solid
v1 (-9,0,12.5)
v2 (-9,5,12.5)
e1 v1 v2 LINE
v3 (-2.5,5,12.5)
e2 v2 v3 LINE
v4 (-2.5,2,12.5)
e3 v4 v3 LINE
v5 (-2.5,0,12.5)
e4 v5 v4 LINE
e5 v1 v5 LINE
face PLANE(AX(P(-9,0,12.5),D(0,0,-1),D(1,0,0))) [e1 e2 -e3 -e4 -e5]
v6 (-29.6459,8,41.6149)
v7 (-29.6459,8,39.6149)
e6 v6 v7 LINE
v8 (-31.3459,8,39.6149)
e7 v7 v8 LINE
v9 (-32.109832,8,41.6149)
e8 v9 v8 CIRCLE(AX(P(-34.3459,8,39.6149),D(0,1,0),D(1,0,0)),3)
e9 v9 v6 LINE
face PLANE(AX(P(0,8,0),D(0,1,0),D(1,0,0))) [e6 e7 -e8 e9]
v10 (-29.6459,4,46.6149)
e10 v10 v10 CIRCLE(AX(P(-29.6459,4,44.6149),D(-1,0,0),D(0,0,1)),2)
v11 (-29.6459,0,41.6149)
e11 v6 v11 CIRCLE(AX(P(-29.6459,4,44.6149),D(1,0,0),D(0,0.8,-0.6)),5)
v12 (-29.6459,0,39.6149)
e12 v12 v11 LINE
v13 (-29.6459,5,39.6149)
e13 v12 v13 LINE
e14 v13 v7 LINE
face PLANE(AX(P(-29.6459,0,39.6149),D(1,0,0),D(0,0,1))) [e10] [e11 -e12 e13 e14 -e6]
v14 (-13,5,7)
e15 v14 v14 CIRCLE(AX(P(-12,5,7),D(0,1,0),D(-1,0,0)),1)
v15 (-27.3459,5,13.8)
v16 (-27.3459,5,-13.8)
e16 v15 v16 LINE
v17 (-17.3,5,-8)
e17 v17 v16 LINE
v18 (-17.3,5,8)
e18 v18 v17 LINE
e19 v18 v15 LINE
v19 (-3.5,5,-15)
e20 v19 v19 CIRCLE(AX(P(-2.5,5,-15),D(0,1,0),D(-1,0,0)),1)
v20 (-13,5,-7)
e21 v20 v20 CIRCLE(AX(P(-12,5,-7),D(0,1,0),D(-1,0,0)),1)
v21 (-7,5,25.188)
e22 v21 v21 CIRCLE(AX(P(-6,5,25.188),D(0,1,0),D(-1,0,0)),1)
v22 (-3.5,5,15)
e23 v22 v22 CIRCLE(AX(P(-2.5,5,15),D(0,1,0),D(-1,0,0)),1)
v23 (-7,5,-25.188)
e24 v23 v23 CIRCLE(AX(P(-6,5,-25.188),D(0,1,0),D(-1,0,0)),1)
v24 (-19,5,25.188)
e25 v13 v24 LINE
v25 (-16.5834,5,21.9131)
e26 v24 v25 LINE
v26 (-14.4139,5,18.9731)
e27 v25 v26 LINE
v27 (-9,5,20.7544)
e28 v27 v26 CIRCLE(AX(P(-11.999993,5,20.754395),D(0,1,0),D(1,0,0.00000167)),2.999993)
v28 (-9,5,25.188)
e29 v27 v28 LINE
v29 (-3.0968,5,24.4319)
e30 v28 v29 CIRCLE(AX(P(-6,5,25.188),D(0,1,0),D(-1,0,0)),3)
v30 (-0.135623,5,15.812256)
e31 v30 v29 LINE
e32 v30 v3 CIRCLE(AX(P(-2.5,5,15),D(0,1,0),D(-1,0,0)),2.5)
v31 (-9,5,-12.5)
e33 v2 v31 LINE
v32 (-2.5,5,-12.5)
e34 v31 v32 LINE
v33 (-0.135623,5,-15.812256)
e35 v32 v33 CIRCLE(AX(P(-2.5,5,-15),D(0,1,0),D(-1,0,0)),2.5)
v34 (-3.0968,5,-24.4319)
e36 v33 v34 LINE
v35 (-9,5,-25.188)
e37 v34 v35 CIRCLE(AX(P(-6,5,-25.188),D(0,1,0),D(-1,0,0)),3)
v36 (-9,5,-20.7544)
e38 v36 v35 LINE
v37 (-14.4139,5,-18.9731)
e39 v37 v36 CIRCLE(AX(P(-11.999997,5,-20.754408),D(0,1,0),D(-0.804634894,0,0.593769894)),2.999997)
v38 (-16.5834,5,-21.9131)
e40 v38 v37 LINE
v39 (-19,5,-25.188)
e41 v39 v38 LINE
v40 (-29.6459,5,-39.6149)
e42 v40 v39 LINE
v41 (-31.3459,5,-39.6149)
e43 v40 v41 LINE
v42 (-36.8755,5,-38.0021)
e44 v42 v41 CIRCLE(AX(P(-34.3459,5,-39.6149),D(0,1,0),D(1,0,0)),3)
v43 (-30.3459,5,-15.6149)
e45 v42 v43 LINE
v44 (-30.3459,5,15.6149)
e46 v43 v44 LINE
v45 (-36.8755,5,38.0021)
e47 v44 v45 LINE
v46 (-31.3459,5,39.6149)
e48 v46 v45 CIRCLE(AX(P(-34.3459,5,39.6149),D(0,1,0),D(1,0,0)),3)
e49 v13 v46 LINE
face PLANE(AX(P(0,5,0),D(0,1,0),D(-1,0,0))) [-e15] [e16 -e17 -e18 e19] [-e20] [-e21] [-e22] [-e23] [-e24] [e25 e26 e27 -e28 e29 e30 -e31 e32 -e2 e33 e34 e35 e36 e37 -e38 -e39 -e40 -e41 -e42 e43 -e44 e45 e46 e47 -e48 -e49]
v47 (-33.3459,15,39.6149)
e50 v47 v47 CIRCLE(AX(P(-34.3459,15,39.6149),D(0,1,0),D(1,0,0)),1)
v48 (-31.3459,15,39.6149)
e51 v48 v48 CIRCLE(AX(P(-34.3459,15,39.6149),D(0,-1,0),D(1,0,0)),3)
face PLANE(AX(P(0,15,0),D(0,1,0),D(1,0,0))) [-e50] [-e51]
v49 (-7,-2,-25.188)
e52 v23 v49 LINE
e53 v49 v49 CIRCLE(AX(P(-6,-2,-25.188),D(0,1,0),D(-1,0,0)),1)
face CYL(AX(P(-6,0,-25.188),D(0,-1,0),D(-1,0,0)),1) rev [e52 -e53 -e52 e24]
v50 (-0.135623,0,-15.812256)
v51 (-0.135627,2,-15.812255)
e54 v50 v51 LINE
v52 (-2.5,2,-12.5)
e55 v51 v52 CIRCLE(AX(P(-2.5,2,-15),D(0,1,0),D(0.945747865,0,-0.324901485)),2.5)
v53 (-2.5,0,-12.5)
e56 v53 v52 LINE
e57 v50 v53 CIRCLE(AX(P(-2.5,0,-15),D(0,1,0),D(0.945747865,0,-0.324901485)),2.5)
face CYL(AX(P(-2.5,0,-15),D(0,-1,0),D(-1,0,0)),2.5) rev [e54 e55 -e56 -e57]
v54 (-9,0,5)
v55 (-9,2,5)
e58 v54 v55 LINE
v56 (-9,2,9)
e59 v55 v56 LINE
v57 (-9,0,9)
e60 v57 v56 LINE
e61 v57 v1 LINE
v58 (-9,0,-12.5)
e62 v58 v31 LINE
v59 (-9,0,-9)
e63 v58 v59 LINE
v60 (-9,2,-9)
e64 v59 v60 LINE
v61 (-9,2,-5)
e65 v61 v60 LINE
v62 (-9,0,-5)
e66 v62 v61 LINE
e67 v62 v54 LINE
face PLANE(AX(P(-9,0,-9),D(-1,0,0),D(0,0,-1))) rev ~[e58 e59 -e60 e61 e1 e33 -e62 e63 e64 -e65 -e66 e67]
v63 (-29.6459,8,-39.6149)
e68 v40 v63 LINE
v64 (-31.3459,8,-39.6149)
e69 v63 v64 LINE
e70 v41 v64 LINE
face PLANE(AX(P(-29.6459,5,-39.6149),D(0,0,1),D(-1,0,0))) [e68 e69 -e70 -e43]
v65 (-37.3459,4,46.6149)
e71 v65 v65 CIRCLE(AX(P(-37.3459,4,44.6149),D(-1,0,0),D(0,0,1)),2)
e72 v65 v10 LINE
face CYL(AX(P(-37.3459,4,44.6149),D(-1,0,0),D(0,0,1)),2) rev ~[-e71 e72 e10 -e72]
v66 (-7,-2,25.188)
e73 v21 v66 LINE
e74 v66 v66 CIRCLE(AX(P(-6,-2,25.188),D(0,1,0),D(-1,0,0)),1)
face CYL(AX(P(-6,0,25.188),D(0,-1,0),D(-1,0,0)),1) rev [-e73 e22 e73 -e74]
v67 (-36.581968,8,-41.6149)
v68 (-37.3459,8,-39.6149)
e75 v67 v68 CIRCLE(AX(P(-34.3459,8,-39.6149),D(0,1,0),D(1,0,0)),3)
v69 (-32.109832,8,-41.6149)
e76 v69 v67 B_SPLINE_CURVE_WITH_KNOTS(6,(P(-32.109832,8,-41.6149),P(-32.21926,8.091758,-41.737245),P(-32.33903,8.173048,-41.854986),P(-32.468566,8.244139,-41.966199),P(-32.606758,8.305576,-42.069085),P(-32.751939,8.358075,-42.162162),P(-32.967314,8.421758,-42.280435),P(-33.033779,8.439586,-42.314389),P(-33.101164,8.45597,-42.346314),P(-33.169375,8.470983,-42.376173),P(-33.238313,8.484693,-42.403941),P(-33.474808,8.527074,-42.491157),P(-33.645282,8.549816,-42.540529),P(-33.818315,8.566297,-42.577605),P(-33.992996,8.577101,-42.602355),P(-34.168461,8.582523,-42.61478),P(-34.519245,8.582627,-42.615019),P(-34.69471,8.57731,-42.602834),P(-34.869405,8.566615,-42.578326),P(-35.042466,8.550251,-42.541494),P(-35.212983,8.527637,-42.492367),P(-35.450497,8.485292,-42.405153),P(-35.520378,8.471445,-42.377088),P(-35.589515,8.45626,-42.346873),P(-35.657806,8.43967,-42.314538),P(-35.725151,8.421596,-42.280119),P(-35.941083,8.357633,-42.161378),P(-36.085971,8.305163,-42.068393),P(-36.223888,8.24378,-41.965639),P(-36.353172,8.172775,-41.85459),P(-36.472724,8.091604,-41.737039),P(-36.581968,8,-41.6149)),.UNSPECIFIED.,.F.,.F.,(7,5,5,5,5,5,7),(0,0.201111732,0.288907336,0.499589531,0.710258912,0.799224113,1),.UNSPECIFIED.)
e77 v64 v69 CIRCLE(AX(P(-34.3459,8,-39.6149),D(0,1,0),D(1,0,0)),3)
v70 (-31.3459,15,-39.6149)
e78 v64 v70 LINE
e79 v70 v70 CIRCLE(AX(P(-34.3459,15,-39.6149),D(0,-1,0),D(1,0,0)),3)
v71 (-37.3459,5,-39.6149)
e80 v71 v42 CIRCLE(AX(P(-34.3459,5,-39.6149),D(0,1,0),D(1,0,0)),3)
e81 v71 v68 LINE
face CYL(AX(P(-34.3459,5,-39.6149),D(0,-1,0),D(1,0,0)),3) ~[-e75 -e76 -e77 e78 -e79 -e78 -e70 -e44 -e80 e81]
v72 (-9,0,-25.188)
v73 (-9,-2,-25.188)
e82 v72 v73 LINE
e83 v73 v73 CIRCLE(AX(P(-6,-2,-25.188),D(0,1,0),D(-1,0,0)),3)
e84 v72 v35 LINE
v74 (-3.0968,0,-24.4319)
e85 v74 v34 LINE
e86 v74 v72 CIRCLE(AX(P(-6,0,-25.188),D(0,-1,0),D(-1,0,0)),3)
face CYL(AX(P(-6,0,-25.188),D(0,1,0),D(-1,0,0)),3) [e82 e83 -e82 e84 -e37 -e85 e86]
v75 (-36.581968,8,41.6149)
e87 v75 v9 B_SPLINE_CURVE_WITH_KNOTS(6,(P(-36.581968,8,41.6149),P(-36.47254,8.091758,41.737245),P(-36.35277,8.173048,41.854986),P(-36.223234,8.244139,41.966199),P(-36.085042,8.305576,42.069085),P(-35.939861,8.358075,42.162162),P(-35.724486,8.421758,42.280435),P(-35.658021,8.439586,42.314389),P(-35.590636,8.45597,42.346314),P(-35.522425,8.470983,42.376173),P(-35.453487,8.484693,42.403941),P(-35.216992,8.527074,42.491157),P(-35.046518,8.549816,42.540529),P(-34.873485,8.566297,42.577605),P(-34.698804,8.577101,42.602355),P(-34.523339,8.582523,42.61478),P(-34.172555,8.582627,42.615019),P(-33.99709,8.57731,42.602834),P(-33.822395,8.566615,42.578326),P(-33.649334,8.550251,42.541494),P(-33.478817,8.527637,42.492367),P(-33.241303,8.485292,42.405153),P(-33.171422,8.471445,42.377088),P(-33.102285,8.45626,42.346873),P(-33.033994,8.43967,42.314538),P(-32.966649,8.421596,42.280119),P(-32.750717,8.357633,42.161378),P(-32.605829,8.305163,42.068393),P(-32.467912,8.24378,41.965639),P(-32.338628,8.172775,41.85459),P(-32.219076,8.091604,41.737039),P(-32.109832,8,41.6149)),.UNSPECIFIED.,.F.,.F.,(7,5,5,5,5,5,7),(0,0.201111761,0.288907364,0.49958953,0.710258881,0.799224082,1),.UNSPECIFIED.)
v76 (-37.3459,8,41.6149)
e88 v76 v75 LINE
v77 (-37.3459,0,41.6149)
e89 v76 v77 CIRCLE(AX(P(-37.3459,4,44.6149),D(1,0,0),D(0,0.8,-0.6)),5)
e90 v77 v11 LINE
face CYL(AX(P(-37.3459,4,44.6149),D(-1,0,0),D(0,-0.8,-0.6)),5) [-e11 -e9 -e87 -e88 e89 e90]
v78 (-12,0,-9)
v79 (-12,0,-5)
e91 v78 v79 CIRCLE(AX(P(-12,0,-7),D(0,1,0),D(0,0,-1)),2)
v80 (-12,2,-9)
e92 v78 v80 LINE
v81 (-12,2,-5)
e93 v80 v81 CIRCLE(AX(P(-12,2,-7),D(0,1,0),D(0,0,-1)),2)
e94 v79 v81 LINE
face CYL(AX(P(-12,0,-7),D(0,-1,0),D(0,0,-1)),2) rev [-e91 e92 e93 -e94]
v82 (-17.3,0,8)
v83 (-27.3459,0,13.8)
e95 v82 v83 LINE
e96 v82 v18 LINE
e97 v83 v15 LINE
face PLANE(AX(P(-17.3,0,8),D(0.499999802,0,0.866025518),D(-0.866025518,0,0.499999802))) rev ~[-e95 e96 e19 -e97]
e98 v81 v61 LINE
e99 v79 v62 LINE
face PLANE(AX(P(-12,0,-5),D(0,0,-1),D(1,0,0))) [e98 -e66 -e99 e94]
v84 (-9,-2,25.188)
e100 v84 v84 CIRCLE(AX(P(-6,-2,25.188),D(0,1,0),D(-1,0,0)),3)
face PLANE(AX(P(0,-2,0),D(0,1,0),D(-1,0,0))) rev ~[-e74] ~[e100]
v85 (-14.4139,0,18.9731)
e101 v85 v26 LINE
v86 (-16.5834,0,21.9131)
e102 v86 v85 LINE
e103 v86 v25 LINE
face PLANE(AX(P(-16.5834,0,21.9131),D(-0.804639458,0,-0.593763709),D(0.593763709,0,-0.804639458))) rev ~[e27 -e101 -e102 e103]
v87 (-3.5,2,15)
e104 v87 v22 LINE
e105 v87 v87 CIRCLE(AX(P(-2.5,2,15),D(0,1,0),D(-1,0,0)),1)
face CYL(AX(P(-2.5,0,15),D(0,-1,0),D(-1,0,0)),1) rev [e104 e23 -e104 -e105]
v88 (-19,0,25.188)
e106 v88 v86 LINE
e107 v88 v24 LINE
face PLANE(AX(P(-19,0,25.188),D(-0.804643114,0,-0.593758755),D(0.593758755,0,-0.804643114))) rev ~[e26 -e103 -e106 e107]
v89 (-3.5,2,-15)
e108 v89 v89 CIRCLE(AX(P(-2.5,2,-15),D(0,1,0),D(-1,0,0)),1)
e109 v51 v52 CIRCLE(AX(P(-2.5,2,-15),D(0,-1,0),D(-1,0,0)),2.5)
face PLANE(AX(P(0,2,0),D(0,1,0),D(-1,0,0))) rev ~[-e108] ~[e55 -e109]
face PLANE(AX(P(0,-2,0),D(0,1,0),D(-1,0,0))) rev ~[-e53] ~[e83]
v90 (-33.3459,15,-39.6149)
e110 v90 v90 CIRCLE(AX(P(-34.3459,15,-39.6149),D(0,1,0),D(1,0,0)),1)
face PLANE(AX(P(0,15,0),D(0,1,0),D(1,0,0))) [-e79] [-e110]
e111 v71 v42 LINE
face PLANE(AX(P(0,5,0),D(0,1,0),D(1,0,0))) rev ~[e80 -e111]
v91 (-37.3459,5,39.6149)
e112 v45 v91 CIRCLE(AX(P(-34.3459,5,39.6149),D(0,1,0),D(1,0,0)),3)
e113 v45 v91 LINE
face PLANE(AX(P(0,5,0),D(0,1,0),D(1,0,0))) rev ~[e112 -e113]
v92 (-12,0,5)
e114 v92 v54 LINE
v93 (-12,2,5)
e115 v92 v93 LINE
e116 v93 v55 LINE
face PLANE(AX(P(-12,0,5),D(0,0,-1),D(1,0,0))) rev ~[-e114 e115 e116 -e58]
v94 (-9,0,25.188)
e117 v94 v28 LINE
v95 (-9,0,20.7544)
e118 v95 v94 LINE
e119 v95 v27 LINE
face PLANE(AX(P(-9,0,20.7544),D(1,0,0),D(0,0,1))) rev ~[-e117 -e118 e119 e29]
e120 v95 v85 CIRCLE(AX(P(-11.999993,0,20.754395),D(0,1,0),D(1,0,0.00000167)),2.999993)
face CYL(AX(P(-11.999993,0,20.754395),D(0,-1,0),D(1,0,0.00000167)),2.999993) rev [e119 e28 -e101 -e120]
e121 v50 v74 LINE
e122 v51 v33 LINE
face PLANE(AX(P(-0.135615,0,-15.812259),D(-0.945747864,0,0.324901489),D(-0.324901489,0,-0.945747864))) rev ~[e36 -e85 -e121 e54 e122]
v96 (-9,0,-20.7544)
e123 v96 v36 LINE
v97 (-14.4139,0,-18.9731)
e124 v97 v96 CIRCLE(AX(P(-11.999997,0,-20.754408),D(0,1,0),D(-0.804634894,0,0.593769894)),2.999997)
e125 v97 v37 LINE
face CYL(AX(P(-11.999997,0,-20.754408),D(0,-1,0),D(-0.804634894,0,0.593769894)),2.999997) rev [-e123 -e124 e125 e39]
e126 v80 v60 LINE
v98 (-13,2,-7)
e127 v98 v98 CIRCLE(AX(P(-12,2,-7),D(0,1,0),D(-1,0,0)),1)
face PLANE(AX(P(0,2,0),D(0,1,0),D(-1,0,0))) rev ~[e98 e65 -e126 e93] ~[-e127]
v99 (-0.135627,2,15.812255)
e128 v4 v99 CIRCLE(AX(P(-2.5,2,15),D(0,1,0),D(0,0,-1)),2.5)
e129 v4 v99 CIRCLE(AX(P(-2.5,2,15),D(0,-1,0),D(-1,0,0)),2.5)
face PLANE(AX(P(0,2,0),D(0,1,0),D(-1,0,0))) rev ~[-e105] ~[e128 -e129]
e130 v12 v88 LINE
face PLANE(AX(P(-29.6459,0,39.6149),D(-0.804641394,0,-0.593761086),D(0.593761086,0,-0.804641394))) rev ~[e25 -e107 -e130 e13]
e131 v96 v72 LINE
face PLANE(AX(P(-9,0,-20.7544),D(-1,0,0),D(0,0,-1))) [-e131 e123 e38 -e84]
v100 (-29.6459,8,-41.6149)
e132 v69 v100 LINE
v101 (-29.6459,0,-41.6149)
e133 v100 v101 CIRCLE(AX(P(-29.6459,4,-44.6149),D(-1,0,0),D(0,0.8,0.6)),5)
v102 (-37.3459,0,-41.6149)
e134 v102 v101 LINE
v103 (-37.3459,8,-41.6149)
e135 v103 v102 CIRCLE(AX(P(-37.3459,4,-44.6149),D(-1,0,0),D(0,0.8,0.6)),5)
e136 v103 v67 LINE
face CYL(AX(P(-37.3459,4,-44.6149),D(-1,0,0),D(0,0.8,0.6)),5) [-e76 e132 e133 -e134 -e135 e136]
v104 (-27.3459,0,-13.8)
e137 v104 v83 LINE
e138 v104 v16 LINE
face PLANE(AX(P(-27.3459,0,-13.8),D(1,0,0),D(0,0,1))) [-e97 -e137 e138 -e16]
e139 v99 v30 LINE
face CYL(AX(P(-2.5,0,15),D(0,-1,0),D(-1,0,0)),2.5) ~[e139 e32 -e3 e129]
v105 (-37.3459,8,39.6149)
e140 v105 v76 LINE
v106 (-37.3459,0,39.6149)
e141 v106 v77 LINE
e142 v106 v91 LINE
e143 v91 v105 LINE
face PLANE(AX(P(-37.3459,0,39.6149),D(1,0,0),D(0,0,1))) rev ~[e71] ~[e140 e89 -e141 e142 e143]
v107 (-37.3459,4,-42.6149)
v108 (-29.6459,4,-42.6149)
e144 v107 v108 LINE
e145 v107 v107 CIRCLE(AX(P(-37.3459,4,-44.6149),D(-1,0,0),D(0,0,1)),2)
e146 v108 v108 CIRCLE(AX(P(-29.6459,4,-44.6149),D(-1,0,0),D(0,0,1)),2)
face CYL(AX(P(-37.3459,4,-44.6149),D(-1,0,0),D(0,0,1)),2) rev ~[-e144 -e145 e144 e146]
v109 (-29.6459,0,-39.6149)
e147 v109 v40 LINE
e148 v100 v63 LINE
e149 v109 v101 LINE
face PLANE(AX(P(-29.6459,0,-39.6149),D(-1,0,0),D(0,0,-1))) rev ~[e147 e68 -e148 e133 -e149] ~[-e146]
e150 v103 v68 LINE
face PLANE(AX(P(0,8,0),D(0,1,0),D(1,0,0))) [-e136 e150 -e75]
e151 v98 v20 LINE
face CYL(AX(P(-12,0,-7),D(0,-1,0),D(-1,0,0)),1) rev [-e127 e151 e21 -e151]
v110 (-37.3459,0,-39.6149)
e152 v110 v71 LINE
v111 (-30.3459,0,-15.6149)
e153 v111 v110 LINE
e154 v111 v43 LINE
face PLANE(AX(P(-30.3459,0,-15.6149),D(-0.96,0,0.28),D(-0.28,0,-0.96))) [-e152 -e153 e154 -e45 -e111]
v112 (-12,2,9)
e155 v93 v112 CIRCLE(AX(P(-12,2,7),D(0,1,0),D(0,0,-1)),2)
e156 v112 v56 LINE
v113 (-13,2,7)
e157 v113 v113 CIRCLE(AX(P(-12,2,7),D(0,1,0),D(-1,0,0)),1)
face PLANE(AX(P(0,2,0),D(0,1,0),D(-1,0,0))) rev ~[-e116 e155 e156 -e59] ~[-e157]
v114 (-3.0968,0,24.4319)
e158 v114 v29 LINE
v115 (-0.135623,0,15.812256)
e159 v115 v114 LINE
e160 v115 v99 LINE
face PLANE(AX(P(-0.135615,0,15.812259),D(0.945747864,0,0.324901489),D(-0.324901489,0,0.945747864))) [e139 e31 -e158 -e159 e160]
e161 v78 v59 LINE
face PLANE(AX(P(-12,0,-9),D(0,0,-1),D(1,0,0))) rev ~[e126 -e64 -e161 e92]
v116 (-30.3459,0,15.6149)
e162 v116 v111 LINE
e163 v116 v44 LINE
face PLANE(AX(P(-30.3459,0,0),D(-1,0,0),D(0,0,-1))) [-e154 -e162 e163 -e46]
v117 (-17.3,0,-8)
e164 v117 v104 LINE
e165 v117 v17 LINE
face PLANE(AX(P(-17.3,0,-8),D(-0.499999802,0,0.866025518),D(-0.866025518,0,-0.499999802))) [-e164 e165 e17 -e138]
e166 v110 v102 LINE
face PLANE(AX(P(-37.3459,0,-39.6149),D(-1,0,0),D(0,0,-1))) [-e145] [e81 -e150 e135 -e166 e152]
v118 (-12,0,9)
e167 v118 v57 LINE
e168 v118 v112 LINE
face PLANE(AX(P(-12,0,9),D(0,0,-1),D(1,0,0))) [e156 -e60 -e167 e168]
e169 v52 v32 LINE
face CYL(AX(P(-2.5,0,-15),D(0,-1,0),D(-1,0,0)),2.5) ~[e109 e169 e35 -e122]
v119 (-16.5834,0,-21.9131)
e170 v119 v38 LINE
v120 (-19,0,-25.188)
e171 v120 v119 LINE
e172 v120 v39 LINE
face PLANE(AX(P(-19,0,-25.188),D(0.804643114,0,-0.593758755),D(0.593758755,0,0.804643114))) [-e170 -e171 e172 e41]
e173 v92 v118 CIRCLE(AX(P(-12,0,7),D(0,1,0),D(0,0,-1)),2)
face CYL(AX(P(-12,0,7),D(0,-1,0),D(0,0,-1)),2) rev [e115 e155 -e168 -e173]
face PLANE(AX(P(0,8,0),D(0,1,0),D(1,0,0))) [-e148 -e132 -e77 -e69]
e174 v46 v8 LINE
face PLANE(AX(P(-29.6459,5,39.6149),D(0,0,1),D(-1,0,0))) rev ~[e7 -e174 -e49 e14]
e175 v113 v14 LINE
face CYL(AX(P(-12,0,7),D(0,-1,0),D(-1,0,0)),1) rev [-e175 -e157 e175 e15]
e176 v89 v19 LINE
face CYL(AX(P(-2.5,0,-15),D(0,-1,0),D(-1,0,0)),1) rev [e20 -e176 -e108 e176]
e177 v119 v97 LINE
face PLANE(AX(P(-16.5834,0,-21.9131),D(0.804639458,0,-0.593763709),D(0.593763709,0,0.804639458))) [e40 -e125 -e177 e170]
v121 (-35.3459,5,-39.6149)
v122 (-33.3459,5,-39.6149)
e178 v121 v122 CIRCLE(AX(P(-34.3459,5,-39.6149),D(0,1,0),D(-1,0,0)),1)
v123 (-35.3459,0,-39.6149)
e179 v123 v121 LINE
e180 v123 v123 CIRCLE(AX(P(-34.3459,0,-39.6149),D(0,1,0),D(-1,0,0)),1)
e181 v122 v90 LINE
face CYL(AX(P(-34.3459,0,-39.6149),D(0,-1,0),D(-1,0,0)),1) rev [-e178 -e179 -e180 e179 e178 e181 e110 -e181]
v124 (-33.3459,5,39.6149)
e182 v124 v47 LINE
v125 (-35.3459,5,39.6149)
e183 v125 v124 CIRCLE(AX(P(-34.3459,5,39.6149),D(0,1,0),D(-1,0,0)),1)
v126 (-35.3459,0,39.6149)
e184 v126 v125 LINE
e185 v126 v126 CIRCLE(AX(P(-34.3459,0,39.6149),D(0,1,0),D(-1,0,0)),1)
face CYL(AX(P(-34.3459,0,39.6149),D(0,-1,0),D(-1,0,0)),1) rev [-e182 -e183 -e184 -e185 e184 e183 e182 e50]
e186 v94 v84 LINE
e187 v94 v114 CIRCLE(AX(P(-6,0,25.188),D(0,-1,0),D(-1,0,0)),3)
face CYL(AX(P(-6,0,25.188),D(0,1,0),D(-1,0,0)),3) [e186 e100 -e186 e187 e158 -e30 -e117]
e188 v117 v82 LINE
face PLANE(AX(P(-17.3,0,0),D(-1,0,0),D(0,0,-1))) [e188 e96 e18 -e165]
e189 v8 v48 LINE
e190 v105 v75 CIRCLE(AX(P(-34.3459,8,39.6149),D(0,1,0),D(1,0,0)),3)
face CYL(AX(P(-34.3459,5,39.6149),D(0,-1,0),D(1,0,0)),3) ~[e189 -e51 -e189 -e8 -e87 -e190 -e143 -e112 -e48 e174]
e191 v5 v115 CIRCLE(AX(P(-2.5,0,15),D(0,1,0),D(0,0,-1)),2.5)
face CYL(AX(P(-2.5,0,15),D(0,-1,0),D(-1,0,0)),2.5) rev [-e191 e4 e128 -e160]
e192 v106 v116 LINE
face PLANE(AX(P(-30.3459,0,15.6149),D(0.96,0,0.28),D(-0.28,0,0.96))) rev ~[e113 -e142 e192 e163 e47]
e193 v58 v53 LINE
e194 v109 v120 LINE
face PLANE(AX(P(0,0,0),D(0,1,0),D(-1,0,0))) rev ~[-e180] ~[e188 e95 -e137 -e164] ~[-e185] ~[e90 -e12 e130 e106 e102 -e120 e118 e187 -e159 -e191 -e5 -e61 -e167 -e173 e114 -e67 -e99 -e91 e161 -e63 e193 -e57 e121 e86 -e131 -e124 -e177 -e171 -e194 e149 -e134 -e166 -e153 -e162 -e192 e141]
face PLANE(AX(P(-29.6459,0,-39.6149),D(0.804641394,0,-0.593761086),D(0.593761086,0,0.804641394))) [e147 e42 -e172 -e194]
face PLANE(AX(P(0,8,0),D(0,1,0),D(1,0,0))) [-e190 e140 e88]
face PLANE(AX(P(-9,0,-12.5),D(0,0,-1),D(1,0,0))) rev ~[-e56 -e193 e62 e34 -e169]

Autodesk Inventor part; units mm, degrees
ref_plane "YZ Plane" through (0, 0, 0) normal (1, 0, 0) x (0, 1, 0)
ref_plane "XZ Plane" through (0, 0, 0) normal (0, 1, 0) x (-1, 0, 0)
ref_plane "XY Plane" through (0, 0, 0) normal (0, 0, 1) x (1, 0, 0)
sketch "Sketch1" plane through (0, 0, 0) normal (0, 1, 0) x (-1, 0, 0)
  line L0 (0, 0) -> (9, 0)
  line L1 (9, 0) -> (9, -12.5)
  line L2 (9, -12.5) -> (2.5, -12.5)
  circle A0 centre (2.5, -15) radius 2.5
  circle A1 centre (2.5, -15) radius 1
  line L3 (2.5, -15) -> (17.5, -15) construction
  circle A2 centre (6, -25.188) radius 3
  circle A3 centre (6, -25.188) radius 1
  line L4 (0, -15.4175) -> (3.0968, -24.4319)
  line L5 (9, 0) -> (17.3, 0)
  line L6 (17.3, 0) -> (17.3, -8)
  line L7 (17.3, -8) -> (27.3459, -13.8)
  line L8 (27.3459, -13.8) -> (27.3459, 0)
  line L9 (30.3459, 0) -> (30.3459, -15.6149)
  line L10 (30.3459, -15.6149) -> (37.3459, -39.6149)
  line L11 (37.3459, -39.6149) -> (37.3459, -49.6149)
  line L12 (29.6459, -39.6149) -> (29.6459, -49.6149)
  line L13 (37.3459, -49.6149) -> (29.6459, -49.6149)
  line L14 (29.6459, -39.6149) -> (80.5305, -39.6149) construction
  arc A4 (14.4139, -18.9731) -> (9, -20.7544) centre (12, -20.7544) ccw
  line L15 (29.6459, -39.6149) -> (19, -25.188)
  line L16 (19, -25.188) -> (16.5834, -21.9131)
  line L17 (16.5834, -21.9131) -> (14.4139, -18.9731)
  line L18 (9, -20.7544) -> (9, -25.188)
  circle A5 centre (12, -7) radius 1
  circle A6 centre (34.3459, -39.6149) radius 3
  circle A7 centre (34.3459, -39.6149) radius 1
  line L19 (30.3459, 0) -> (0, 0)
  line L20 (9, 0) -> (9, 12.5)
  line L21 (9, 12.5) -> (2.5, 12.5)
  circle A8 centre (2.5, 15) radius 2.5
  circle A9 centre (2.5, 15) radius 1
  line L22 (2.5, 15) -> (17.5, 15) construction
  circle A10 centre (6, 25.188) radius 3
  circle A11 centre (6, 25.188) radius 1
  line L23 (0, 15.4175) -> (3.0968, 24.4319)
  line L24 (17.3, 0) -> (17.3, 8)
  line L25 (17.3, 8) -> (27.3459, 13.8)
  line L26 (27.3459, 13.8) -> (27.3459, 0)
  line L27 (30.3459, 0) -> (30.3459, 15.6149)
  line L28 (30.3459, 15.6149) -> (37.3459, 39.6149)
  line L29 (37.3459, 39.6149) -> (37.3459, 49.6149)
  line L30 (29.6459, 39.6149) -> (29.6459, 49.6149)
  line L31 (37.3459, 49.6149) -> (29.6459, 49.6149)
  line L32 (29.6459, 39.6149) -> (80.5305, 39.6149) construction
  arc A12 (9, 20.7544) -> (14.4139, 18.9731) centre (12, 20.7544) ccw
  line L33 (29.6459, 39.6149) -> (19, 25.188)
  line L34 (19, 25.188) -> (16.5834, 21.9131)
  line L35 (16.5834, 21.9131) -> (14.4139, 18.9731)
  line L36 (9, 20.7544) -> (9, 25.188)
  circle A13 centre (12, 7) radius 1
  circle A14 centre (34.3459, 39.6149) radius 3
  circle A15 centre (34.3459, 39.6149) radius 1
  arc A16 (12, -9) -> (12, -5) centre (12, -7) ccw
  arc A17 (12, 5) -> (12, 9) centre (12, 7) ccw
  line L37 (12, 5) -> (9, 5)
  line L38 (12, 9) -> (9, 9)
  line L39 (12, -5) -> (9, -5)
  line L40 (12, -9) -> (9, -9)
  point P0 (0.1356, 15.8123)
  point P1 (0.1356, -15.8123)
  point P2 (36.8755, -38.0021)
  dimension "d3" = 5
  dimension "d0" = 9
  dimension "d1" = 12.5
  dimension "d4" = 2
  dimension "d7" = 6
  dimension "d9" = 2
  dimension "d13" = 8.3
  dimension "d14" = 8
  dimension "d15" = 11.6
  dimension "d16" = 120
  dimension "d17" = 3
  dimension "d20" = 7.7
  dimension "d21" = 10
  dimension "d23" = 6
  dimension "d24" = 10
  dimension "d27" = 2
  dimension "d28" = 7
  dimension "d29" = 6
  dimension "d30" = 2
  dimension "d31" = 4
  dimension "d32" = 4
extrude "Extrusion1" add sketch "Sketch1" along normal blind 5 contours L5 L6 L7 L8 L19 L9 L10 A6 L11 L13 L12 L15 L16 L17 A4 L18 A2 L4 A0 L2 L1 L40 A16 L39 | L20 L37 A17 L38 L21 A8 L23 A10 L36 A12 L35 L34 L33 L30 L31 L29 A14 L28 L27 L19 L26 L25 L24 L5 | L39 A16 L40 L1 | L20 L38 A17 L37 | A0 | A8 | L10 A6 | A14 L28 | A2 | A10 picked at (36.5127, -38.9975) picked at (36.5127, 38.9975)
extrude "Extrusion2" cut sketch "Sketch1" along normal blind 2 contours L39 A16 L40 L1 | L20 L38 A17 L37 | A0 | A8
extrude "Extrusion3" add sketch "Sketch1" against normal blind 2 contours A2 | A10
sketch "Sketch2" plane through (0, 5, 0) normal (0, 1, 0) x (1, 0, 0)
  circle A0 centre (-34.3459, 39.6149) radius 1 projected
  line L0 (-37.3459, 49.6149) -> (-37.3459, 39.6149) projected
  circle A1 centre (-34.3459, 39.6149) radius 3
  circle A2 centre (-34.3459, -39.6149) radius 1 projected
  circle A3 centre (-34.3459, -39.6149) radius 3
  line L1 (-37.3459, -39.6149) -> (-37.3459, -49.6149) projected
  line L2 (-37.3459, -39.6149) -> (-37.3459, -49.6149)
  line L3 (-37.3459, -49.6149) -> (-29.6459, -49.6149) projected
  line L4 (-37.3459, -49.6149) -> (-29.6459, -49.6149)
  line L5 (-29.6459, -49.6149) -> (-29.6459, -39.6149) projected
  line L6 (-29.6459, -49.6149) -> (-29.6459, -39.6149)
  line L7 (-29.6459, -39.6149) -> (-31.3459, -39.6149)
  line L8 (-37.3459, 39.6149) -> (-37.3459, 49.6149)
  line L9 (-37.3459, 49.6149) -> (-29.6459, 49.6149)
  line L10 (-29.6459, 49.6149) -> (-29.6459, 39.6149)
  line L11 (-29.6459, 39.6149) -> (-31.3459, 39.6149)
  point P0 (0, 0)
extrude "Extrusion5" add sketch "Sketch2" along normal blind 10 contours A1 | A3
extrude "Extrusion6" add sketch "Sketch2" along normal blind 3 contours L9 L10 L11 A1 L0 | L7 L5 L3 L1 A3
sketch "Sketch3" plane through (-37.3459, 0, 39.6149) normal (-1, 0, 0) x (0, 0, 1)
  circle A0 centre (5, 4) radius 2
  line L0 (10, 0) -> (10, 8) projected
  arc A1 (2, 0) -> (2, 8) centre (5, 4) ccw
  circle A2 centre (-84.2298, 4) radius 2
  line L1 (-89.2298, 0) -> (-89.2298, 8) projected
  arc A3 (-81.2298, 8) -> (-81.2298, 0) centre (-84.2298, 4) ccw
  line L2 (-89.2298, 0) -> (-79.2298, 0) projected
  line L3 (-87.2298, 0) -> (-89.2298, 0)
  line L4 (-89.2298, 0) -> (-89.2298, 8) projected
  line L5 (-89.2298, 0) -> (-89.2298, 8)
  line L6 (-89.2298, 8) -> (-87.2298, 8)
  line L7 (-79.2298, 8) -> (-89.2298, 8) projected
  arc A4 (-87.2298, 8) -> (-87.2298, 0) centre (-84.2298, 4) ccw
  line L8 (0, 0) -> (10, 0) projected
  line L9 (10, 8) -> (0, 8) projected
  arc A5 (8, 0) -> (8, 8) centre (5, 4) ccw
  line L10 (8, 0) -> (10, 0)
  line L11 (10, 8) -> (8, 8)
  point P0 (-39.6149, 0)
  point P1 (10, 4)
  point P2 (-89.2298, 4)
  dimension "d45" = 4
  dimension "d46" = 5
  dimension "d47" = 4
  dimension "d48" = 5
extrude "Extrusion7" add sketch "Sketch3" against normal blind 7.7 contours A1 L8 | L9 A1 | A3 L7 | L2 A3
extrude "Extrusion8" cut sketch "Sketch3" against normal blind 10 contours A0 | L8 A1 L0 | A1 L9 L0 | A2 | L1 L6 A3 | L1 A3 L2
properties part number "PX9200-11"
